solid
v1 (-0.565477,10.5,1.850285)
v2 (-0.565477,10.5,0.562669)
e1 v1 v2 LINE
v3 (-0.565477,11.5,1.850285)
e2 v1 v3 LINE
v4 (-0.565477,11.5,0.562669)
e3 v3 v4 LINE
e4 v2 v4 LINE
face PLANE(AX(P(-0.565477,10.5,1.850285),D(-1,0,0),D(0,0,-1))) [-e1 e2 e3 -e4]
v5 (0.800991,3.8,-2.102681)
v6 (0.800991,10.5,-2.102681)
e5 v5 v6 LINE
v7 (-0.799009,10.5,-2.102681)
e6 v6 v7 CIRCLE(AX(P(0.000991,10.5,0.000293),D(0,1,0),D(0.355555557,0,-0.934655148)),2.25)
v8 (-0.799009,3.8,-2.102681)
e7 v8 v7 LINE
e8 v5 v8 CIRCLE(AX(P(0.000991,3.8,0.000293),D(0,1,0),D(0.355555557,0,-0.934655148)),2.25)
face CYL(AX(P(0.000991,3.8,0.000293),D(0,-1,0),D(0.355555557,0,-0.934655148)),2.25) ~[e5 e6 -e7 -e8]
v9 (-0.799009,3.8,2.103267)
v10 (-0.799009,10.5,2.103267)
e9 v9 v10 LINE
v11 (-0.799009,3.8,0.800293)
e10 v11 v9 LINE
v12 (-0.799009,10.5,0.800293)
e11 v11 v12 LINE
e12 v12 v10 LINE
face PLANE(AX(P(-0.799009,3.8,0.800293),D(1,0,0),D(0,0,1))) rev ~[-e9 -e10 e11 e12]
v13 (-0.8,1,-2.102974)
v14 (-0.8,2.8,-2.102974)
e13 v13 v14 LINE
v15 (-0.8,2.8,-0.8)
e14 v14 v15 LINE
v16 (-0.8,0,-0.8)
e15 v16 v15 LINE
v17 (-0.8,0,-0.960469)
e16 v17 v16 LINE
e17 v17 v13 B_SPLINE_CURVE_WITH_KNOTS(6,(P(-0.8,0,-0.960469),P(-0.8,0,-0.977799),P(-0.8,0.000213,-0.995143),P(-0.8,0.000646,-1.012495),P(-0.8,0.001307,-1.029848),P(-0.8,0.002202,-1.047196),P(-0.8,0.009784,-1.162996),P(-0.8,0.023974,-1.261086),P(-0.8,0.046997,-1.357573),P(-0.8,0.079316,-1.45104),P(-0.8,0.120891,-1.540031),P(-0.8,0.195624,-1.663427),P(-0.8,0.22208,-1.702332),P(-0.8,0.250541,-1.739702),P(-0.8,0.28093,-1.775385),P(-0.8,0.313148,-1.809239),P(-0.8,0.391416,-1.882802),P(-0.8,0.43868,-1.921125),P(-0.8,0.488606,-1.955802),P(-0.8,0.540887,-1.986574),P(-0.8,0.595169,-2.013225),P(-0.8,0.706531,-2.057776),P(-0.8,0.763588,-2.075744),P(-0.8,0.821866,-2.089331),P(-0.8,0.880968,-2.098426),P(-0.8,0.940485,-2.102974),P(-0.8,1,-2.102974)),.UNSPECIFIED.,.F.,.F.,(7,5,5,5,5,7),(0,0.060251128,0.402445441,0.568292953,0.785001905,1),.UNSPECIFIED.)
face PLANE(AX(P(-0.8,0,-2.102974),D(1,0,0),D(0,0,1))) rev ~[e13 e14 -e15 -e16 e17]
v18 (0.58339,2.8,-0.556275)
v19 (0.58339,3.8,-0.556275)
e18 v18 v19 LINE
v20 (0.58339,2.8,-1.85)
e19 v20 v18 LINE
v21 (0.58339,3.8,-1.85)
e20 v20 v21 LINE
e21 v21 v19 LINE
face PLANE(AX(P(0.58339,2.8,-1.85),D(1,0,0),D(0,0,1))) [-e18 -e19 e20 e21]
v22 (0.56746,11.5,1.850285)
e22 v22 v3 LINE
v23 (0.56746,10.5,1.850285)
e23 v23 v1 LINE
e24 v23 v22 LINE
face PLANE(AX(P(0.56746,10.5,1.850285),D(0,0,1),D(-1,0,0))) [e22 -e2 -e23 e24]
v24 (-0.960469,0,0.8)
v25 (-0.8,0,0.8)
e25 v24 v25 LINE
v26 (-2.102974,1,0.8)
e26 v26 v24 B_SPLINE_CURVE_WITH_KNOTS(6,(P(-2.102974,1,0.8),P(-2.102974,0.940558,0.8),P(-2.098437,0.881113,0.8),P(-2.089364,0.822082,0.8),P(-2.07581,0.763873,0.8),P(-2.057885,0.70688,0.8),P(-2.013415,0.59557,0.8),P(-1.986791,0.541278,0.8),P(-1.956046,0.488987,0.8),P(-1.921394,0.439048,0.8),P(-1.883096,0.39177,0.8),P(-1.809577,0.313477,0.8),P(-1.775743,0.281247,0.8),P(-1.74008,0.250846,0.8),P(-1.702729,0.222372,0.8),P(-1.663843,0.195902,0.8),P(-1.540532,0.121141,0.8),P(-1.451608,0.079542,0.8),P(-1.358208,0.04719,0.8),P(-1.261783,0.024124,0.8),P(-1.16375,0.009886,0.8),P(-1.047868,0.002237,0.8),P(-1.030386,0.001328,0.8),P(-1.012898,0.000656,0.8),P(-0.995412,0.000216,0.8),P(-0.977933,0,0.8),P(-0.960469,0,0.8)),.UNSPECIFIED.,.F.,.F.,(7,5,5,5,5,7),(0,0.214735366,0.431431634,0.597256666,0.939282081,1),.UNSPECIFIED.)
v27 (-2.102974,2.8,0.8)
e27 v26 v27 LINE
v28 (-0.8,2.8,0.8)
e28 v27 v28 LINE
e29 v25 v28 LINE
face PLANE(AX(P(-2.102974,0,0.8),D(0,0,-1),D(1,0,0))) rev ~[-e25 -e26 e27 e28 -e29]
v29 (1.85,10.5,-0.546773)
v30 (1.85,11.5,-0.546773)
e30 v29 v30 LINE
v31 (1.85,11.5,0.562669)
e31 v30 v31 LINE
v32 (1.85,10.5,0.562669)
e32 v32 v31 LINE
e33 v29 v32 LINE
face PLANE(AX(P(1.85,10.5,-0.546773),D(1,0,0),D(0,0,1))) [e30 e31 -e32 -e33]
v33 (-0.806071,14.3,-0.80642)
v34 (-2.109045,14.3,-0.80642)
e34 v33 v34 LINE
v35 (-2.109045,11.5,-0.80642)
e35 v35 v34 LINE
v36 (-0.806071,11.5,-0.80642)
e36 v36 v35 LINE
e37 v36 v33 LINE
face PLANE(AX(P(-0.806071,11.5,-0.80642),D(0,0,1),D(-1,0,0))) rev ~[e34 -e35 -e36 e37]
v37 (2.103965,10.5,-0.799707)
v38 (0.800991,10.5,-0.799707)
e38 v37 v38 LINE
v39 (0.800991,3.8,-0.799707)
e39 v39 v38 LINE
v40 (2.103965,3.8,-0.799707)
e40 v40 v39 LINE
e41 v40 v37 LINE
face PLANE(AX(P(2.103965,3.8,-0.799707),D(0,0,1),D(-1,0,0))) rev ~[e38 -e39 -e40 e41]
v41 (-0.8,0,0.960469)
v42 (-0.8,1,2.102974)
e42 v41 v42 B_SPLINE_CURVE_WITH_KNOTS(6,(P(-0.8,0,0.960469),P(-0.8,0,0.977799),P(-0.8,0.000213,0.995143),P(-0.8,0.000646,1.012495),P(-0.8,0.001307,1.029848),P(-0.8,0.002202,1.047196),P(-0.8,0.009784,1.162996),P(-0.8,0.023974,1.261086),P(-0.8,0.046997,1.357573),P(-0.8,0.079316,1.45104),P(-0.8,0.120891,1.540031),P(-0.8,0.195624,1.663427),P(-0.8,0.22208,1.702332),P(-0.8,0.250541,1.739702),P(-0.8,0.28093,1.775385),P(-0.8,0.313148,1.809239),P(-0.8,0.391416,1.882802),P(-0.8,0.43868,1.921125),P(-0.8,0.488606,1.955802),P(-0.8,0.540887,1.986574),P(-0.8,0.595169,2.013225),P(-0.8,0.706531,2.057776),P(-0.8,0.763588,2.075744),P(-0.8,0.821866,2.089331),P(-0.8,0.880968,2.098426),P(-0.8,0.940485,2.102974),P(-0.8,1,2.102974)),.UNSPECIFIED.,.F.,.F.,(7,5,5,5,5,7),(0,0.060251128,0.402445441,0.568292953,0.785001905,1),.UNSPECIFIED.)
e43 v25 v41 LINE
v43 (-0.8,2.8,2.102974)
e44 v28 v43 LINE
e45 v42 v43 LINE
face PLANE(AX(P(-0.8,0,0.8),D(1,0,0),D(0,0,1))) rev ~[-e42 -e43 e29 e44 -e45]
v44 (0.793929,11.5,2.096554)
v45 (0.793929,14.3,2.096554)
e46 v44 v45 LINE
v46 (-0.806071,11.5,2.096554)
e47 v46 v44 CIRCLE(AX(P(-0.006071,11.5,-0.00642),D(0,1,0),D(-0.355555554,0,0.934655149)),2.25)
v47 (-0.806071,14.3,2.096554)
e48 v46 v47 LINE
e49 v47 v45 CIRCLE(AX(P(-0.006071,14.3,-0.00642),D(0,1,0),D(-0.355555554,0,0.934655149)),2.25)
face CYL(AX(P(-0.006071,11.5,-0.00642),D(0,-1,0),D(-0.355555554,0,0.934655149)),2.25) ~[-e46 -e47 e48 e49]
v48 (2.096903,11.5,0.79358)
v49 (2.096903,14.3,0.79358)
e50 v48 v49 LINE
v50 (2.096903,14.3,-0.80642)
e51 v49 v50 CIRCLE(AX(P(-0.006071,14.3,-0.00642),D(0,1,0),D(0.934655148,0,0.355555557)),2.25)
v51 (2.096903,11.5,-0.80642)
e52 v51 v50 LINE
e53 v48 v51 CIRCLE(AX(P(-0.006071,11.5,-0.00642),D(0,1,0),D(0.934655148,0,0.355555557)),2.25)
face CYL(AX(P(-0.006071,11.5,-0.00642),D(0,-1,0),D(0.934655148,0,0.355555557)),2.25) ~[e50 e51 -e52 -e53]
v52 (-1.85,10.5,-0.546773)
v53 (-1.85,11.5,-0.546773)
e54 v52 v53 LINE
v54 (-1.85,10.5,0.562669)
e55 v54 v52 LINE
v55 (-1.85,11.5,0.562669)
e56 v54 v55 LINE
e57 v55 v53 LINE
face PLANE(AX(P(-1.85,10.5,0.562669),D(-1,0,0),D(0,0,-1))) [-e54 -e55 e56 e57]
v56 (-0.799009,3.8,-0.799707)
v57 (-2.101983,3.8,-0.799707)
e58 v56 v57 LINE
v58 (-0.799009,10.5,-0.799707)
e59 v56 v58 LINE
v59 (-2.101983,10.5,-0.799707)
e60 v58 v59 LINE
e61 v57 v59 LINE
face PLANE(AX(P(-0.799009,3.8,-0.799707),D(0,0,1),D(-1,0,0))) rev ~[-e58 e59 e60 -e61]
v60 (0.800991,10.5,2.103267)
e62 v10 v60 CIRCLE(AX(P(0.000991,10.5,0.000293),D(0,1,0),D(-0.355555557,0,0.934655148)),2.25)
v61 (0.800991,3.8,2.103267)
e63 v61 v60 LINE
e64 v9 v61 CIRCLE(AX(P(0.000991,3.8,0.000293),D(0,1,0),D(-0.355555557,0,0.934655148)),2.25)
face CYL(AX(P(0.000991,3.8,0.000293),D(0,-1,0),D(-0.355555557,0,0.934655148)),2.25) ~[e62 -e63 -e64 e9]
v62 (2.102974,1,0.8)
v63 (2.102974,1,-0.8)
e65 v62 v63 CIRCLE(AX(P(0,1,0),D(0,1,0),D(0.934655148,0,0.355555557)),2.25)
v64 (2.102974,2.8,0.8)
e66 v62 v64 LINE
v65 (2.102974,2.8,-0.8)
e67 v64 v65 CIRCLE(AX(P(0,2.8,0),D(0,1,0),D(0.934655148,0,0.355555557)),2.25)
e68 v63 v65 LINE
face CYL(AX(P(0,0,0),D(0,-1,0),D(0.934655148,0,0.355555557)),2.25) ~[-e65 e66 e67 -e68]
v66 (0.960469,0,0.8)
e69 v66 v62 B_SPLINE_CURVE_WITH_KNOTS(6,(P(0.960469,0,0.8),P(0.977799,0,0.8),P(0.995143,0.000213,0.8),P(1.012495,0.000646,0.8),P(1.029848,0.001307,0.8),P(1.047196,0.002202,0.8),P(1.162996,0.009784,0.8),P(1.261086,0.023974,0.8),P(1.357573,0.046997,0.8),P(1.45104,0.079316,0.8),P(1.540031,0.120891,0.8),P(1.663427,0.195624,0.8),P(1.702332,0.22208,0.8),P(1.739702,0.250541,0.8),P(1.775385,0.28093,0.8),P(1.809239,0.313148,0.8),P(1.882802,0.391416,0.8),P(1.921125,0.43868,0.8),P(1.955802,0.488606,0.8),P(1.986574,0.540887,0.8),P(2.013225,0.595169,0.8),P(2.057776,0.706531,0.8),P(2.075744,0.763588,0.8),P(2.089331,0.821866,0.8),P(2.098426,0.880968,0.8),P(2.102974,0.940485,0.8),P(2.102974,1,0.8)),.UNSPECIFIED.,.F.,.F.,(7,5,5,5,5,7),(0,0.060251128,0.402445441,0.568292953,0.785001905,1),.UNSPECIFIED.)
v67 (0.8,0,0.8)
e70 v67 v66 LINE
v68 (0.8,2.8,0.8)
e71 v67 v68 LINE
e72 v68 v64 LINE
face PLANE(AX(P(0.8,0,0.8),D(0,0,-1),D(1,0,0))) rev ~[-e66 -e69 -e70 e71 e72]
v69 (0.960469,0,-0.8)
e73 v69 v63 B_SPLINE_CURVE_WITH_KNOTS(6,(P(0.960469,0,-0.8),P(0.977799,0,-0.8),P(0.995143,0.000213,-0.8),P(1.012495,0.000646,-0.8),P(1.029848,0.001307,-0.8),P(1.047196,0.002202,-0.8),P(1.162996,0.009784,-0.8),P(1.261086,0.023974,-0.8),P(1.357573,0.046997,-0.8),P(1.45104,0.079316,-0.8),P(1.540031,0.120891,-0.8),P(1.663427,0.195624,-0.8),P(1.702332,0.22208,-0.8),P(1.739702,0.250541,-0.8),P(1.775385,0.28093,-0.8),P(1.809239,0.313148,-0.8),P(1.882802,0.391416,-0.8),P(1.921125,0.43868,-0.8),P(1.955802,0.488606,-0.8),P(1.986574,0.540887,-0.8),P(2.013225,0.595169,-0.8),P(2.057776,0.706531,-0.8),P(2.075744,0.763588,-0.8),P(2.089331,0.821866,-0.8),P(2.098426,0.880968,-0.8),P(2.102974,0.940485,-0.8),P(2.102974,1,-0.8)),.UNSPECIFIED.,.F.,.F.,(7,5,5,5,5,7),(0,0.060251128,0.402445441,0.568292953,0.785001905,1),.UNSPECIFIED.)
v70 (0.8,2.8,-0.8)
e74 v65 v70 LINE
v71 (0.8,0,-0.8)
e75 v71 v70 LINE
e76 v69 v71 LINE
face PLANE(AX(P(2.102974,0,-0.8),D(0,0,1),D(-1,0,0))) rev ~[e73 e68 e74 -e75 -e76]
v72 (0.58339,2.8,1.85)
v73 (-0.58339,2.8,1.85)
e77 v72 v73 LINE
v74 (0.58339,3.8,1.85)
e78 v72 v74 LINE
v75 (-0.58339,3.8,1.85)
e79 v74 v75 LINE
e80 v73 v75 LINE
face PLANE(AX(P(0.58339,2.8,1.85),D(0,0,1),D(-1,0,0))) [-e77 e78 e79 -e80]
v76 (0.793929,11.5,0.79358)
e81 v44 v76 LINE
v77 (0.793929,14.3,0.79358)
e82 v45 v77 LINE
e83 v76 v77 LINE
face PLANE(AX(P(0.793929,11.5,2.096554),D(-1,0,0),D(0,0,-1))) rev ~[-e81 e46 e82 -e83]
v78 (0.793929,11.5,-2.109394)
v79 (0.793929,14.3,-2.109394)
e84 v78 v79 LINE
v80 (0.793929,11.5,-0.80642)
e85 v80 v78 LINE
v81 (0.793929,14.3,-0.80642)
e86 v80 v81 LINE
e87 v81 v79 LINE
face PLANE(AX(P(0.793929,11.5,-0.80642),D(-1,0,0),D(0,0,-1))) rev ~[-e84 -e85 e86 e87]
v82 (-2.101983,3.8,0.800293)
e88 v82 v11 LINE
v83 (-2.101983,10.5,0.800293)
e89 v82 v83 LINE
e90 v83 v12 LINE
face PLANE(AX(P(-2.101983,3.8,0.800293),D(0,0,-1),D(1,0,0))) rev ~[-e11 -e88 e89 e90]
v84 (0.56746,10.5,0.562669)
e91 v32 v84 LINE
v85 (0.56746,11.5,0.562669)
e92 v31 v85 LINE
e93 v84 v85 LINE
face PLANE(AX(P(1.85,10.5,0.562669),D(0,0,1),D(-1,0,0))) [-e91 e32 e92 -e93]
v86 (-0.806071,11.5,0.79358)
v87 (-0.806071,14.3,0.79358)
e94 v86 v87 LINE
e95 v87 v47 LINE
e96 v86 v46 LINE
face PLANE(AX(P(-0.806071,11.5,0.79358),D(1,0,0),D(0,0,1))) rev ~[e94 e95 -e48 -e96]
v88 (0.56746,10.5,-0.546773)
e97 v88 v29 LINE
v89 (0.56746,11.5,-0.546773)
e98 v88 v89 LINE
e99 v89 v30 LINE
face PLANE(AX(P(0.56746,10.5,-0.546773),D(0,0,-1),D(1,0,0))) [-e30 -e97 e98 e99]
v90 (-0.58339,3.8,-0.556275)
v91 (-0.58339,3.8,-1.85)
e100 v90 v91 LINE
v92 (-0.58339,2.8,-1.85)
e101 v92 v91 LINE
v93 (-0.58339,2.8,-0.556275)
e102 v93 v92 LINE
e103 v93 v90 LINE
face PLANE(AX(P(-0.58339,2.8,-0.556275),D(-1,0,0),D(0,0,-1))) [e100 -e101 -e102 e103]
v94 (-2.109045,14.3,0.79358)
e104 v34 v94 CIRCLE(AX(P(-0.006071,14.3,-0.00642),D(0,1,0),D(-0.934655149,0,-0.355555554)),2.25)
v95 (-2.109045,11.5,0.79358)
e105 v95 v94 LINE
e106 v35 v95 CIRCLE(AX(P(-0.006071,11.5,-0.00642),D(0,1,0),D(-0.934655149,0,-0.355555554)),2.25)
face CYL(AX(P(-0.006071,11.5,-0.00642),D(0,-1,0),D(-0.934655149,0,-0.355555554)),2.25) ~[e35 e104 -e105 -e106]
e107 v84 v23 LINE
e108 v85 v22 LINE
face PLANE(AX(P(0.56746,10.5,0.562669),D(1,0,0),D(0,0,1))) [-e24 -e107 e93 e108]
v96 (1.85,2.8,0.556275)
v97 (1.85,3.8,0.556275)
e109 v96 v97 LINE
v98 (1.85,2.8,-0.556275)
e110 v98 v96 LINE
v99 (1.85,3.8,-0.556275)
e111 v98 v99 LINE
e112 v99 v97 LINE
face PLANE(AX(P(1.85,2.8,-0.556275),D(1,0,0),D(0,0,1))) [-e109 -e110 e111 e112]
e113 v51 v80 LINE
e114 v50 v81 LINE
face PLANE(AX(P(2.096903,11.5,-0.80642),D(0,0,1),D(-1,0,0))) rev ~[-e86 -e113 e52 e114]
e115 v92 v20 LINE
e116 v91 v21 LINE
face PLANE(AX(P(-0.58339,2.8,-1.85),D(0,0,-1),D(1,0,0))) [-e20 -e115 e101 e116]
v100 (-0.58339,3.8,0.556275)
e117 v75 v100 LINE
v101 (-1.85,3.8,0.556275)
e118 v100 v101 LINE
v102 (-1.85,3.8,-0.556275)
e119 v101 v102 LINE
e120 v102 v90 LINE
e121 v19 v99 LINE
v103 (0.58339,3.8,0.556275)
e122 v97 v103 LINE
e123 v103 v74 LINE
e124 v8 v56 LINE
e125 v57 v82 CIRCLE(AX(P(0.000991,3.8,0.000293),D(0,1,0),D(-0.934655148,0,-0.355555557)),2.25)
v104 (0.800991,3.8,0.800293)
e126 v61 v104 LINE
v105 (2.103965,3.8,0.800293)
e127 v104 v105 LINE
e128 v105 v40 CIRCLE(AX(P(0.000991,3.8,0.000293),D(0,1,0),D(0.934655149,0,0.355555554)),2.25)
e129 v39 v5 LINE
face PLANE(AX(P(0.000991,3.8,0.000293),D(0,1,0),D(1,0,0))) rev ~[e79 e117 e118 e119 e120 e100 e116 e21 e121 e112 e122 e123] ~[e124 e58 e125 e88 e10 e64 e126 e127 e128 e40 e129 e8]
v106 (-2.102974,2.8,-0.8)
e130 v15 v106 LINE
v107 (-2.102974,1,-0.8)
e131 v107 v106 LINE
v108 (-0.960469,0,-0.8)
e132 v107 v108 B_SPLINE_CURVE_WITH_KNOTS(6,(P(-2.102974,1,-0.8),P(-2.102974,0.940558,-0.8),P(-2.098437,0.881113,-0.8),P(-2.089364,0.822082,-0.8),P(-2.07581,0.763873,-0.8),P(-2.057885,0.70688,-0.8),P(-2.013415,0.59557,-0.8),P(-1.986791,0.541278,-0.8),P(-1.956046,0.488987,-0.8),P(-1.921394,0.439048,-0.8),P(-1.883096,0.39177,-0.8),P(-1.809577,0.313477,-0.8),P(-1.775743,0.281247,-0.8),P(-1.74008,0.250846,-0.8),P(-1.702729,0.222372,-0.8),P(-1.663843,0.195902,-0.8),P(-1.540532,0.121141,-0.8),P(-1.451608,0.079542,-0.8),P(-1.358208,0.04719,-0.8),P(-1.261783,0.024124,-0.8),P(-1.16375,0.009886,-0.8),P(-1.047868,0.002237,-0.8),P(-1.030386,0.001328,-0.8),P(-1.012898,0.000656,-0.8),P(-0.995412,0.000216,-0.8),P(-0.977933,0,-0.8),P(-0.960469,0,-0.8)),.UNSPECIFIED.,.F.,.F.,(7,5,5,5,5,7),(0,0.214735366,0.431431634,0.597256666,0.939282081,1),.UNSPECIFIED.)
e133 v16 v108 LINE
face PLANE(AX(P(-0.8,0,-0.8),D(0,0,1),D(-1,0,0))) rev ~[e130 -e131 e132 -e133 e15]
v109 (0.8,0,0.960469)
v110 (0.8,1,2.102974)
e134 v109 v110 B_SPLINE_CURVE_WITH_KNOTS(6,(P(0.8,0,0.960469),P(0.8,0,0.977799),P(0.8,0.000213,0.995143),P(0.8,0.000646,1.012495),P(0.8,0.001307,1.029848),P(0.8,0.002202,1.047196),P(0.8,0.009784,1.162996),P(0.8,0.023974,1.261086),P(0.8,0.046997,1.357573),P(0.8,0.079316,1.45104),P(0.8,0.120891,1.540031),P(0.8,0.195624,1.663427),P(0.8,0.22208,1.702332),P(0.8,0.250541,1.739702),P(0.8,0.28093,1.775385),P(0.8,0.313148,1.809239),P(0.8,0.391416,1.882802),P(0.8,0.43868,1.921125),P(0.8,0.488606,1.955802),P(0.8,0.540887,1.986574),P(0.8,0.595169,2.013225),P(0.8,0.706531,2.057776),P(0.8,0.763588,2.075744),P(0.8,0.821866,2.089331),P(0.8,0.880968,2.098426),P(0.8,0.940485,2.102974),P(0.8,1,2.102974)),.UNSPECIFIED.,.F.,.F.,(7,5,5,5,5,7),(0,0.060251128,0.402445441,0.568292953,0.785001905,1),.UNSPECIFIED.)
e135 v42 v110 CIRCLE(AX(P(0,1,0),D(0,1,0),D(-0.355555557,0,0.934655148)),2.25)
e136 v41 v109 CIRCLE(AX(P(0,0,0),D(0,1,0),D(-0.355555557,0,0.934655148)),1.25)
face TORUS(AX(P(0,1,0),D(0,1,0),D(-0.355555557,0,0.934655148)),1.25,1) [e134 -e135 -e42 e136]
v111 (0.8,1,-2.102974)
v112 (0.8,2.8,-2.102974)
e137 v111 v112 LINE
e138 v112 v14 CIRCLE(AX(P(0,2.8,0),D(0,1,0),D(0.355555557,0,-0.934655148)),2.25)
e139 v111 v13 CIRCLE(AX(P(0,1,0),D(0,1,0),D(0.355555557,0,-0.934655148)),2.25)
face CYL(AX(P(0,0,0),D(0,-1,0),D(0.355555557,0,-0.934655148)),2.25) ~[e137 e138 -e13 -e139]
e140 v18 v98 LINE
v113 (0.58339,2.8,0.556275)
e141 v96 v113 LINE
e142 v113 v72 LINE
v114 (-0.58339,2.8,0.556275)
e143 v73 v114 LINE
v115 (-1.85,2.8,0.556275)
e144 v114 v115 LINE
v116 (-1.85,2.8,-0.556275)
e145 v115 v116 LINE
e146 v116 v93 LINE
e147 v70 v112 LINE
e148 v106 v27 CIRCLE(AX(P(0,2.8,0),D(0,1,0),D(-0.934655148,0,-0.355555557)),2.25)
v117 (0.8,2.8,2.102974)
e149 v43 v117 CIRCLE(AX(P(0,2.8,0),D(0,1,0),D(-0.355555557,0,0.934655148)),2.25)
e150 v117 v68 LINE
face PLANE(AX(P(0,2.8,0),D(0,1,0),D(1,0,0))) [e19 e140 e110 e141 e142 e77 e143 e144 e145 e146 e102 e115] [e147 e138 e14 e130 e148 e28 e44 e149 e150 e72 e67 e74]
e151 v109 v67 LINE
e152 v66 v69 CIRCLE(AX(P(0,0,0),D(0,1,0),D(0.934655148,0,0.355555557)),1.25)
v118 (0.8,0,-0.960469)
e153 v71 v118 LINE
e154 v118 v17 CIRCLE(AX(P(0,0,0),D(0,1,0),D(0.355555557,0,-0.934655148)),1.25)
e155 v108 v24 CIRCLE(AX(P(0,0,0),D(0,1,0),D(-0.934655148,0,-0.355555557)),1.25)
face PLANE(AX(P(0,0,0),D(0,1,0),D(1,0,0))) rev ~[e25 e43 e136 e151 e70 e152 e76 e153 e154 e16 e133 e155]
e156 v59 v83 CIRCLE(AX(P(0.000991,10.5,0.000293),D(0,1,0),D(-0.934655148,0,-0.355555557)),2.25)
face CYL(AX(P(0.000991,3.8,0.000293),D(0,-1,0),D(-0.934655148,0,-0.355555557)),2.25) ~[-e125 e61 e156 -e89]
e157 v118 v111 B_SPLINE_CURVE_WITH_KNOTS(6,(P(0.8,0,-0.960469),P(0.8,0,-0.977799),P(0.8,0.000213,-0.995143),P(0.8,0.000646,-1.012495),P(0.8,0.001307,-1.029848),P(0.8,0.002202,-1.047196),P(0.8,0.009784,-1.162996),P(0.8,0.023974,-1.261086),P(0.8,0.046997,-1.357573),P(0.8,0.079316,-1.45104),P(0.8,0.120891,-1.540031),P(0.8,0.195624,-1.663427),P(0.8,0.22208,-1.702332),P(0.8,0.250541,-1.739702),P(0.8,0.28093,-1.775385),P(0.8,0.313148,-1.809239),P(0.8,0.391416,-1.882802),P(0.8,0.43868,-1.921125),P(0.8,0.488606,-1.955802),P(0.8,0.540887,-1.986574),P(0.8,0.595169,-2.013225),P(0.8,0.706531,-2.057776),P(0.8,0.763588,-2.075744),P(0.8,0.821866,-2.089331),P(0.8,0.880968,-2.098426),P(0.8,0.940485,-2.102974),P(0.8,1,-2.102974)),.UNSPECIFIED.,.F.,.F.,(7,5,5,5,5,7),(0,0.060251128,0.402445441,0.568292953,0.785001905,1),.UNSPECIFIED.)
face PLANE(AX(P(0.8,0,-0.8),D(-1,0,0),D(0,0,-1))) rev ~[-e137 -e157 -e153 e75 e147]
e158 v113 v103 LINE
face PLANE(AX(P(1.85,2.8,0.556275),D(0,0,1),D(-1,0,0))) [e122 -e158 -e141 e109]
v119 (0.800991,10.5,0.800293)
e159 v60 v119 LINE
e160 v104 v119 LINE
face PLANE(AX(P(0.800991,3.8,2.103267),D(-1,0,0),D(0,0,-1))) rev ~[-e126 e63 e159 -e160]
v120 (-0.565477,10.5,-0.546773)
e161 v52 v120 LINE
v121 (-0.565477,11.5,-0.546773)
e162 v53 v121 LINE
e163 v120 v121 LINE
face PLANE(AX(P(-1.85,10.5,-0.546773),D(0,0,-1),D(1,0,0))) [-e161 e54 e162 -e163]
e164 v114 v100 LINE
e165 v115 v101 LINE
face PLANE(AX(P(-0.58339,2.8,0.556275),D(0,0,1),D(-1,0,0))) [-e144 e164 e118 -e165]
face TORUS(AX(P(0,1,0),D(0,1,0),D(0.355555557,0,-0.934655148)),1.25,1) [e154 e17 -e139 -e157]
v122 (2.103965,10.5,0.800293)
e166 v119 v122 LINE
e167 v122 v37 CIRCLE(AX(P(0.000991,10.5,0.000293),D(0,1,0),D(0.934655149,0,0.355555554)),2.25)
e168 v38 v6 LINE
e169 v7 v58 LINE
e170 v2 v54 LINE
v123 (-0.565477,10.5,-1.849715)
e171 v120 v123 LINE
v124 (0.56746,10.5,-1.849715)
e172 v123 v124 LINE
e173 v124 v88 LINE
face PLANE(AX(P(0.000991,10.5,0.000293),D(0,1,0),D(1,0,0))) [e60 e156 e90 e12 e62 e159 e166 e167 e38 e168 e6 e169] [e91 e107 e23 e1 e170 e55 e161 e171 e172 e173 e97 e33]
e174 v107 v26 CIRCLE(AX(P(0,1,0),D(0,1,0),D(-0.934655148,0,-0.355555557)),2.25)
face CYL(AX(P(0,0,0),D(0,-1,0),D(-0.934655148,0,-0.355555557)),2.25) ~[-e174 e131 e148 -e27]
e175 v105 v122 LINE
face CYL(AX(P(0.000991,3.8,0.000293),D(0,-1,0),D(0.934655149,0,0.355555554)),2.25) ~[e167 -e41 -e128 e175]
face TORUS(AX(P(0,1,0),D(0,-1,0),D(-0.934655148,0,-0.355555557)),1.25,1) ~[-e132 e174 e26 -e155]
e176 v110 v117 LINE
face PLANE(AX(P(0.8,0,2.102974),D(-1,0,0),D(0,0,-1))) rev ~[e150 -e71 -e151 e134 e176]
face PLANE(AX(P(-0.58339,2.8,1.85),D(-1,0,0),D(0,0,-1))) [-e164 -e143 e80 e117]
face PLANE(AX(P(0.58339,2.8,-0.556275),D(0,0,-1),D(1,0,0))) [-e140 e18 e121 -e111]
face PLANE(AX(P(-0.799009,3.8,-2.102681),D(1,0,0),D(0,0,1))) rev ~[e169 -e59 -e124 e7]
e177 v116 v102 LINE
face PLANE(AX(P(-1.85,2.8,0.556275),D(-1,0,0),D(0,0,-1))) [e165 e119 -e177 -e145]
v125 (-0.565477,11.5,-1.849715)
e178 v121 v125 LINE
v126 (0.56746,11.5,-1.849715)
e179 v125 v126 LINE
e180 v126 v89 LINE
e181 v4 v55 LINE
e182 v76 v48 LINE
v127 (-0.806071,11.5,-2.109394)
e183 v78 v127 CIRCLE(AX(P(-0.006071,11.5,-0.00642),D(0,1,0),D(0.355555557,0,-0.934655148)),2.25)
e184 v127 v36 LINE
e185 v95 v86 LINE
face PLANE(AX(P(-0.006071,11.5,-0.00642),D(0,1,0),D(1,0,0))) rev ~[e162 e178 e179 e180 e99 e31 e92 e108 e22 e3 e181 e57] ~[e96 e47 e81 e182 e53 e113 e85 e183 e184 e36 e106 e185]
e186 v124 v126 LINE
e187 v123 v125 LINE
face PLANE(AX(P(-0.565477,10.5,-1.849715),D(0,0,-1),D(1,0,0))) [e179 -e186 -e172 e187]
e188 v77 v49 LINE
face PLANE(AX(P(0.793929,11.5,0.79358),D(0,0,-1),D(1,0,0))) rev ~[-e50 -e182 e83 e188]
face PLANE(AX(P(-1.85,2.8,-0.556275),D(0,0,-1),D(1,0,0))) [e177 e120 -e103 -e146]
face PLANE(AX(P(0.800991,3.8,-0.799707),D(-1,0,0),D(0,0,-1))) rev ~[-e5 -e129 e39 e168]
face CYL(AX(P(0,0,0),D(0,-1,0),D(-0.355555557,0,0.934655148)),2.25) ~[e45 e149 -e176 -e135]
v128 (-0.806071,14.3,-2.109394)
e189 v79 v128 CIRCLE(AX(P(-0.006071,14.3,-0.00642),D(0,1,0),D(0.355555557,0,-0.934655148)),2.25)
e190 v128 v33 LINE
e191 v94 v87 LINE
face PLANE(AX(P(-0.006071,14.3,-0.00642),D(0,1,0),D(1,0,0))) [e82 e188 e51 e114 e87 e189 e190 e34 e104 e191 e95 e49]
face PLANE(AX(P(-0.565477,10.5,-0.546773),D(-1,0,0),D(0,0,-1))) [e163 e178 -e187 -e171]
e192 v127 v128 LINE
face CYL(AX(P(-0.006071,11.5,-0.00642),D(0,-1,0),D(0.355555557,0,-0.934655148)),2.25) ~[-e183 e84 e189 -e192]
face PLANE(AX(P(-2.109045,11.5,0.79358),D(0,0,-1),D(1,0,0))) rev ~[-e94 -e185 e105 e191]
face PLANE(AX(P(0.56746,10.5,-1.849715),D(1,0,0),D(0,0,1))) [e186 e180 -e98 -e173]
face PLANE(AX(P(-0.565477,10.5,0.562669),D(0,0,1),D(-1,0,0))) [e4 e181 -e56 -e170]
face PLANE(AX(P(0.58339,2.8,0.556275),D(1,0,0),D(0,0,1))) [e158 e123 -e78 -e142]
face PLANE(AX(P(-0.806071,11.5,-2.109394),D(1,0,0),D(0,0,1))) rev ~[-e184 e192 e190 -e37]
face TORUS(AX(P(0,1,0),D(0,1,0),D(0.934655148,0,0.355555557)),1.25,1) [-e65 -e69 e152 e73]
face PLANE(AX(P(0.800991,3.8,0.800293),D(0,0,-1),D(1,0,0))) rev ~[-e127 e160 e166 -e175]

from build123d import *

# Parameters (mm, degrees)
BOSS_EXTRUDE1_DEPTH = 2.8
FILLET1_R           = 1
FILLET2_R           = 1
FILLET3_R           = 1
FILLET4_R           = 1
BOSS_EXTRUDE2_DEPTH = 1
BOSS_EXTRUDE3_DEPTH = 6.7
BOSS_EXTRUDE4_DEPTH = 1
BOSS_EXTRUDE5_DEPTH = 2.8


with BuildPart() as part:
    # Sketch1 → Boss-Extrude1 (new body)
    with BuildSketch(Plane(origin=(0, 0, 0), x_dir=(1, 0, 0), z_dir=(0, 1, 0))):
        with BuildLine():
            Line((-0.8, -0.8), (-0.8, -2.102974084))
            ThreePointArc((-0.8, -2.102974084), (0, -2.25), (0.8, -2.102974084))
            Line((0.8, -2.102974084), (0.8, -0.8))
            Line((0.8, -0.8), (2.102974084, -0.8))
            ThreePointArc((2.102974084, -0.8), (2.25, 0), (2.102974084, 0.8))
            Line((2.102974084, 0.8), (0.8, 0.8))
            Line((0.8, 0.8), (0.8, 2.102974084))
            ThreePointArc((0.8, 2.102974084), (0, 2.25), (-0.8, 2.102974084))
            Line((-0.8, 2.102974084), (-0.8, 0.8))
            Line((-0.8, 0.8), (-2.102974084, 0.8))
            ThreePointArc((-2.102974084, 0.8), (-2.25, 0), (-2.102974084, -0.8))
            Line((-2.102974084, -0.8), (-0.8, -0.8))
        make_face()
    extrude(amount=BOSS_EXTRUDE1_DEPTH)

    # Fillet1
    fillet1_edges = [part.edges().sort_by_distance(p)[0] for p in [
        (-2.25, 0, 0),
    ]]
    fillet(fillet1_edges, radius=FILLET1_R)

    # Fillet2
    fillet2_edges = [part.edges().sort_by_distance(p)[0] for p in [
        (0, 0, 2.25),
    ]]
    fillet(fillet2_edges, radius=FILLET2_R)

    # Fillet3
    fillet3_edges = [part.edges().sort_by_distance(p)[0] for p in [
        (2.25, 0, 0),
    ]]
    fillet(fillet3_edges, radius=FILLET3_R)

    # Fillet4
    fillet4_edges = [part.edges().sort_by_distance(p)[0] for p in [
        (0, 0, -2.25),
    ]]
    fillet(fillet4_edges, radius=FILLET4_R)

    # Sketch3 → Boss-Extrude2 (add)
    with BuildSketch(Plane(origin=(0, 2.8, 0), x_dir=(1, 0, 0), z_dir=(0, 1, 0))):
        Polygon((-0.583389757, 0.556274706), (-0.583389757, 1.85), (0.583389757, 1.85), (0.583389757, 0.556274706), (1.85, 0.556274706), (1.85, -0.556274706), (0.583389757, -0.556274706), (0.583389757, -1.85), (-0.583389757, -1.85), (-0.583389757, -0.556274706), (-1.85, -0.556274706), (-1.85, 0.556274706), align=None)
    extrude(amount=BOSS_EXTRUDE2_DEPTH)

    # Sketch11 → Boss-Extrude3 (add)
    with BuildSketch(Plane(origin=(0, 3.8, 0), x_dir=(1, 0, 0), z_dir=(0, 1, 0))):
        with BuildLine():
            Line((-0.799009338, -0.800292793), (-0.799009338, -2.103266877))
            ThreePointArc((-0.799009338, -2.103266877), (0.000990662, -2.250292793), (0.800990662, -2.103266877))
            Line((0.800990662, -2.103266877), (0.800990662, -0.800292793))
            Line((0.800990662, -0.800292793), (2.103964747, -0.800292793))
            ThreePointArc((2.103964747, -0.800292793), (2.250990662, -0.000292793), (2.103964747, 0.799707207))
            Line((2.103964747, 0.799707207), (0.800990662, 0.799707207))
            Line((0.800990662, 0.799707207), (0.800990662, 2.102681291))
            ThreePointArc((0.800990662, 2.102681291), (0.000990662, 2.249707207), (-0.799009338, 2.102681291))
            Line((-0.799009338, 2.102681291), (-0.799009338, 0.799707207))
            Line((-0.799009338, 0.799707207), (-2.101983422, 0.799707207))
            ThreePointArc((-2.101983422, 0.799707207), (-2.249009338, -0.000292793), (-2.101983422, -0.800292793))
            Line((-2.101983422, -0.800292793), (-0.799009338, -0.800292793))
        make_face()
    extrude(amount=BOSS_EXTRUDE3_DEPTH)

    # Sketch12 → Boss-Extrude4 (add)
    with BuildSketch(Plane(origin=(0, 10.5, 0), x_dir=(1, 0, 0), z_dir=(0, 1, 0))):
        Polygon((0.567460326, 0.546772752), (1.85, 0.546772752), (1.85, -0.562668947), (0.567460326, -0.562668947), (0.567460326, -1.850285006), (-0.565476617, -1.850285006), (-0.565476617, -0.562668947), (-1.85, -0.562668947), (-1.85, 0.546772752), (-0.565476617, 0.546772752), (-0.565476617, 1.849714994), (0.567460326, 1.849714994), align=None)
    extrude(amount=BOSS_EXTRUDE4_DEPTH)

    # Sketch13 → Boss-Extrude5 (add)
    with BuildSketch(Plane(origin=(0, 11.5, 0), x_dir=(1, 0, 0), z_dir=(0, 1, 0))):
        with BuildLine():
            Line((-0.806071321, -0.793579744), (-0.806071321, -2.096553829))
            ThreePointArc((-0.806071321, -2.096553829), (-0.006071321, -2.243579744), (0.793928679, -2.096553829))
            Line((0.793928679, -2.096553829), (0.793928679, -0.793579744))
            Line((0.793928679, -0.793579744), (2.096902763, -0.793579744))
            ThreePointArc((2.096902763, -0.793579744), (2.243928679, 0.006420256), (2.096902763, 0.806420256))
            Line((2.096902763, 0.806420256), (0.793928679, 0.806420256))
            Line((0.793928679, 0.806420256), (0.793928679, 2.10939434))
            ThreePointArc((0.793928679, 2.10939434), (-0.006071321, 2.256420256), (-0.806071321, 2.10939434))
            Line((-0.806071321, 2.10939434), (-0.806071321, 0.806420256))
            Line((-0.806071321, 0.806420256), (-2.109045406, 0.806420256))
            ThreePointArc((-2.109045406, 0.806420256), (-2.256071321, 0.006420256), (-2.109045406, -0.793579744))
            Line((-2.109045406, -0.793579744), (-0.806071321, -0.793579744))
        make_face()
    extrude(amount=BOSS_EXTRUDE5_DEPTH)


solid = part.part
